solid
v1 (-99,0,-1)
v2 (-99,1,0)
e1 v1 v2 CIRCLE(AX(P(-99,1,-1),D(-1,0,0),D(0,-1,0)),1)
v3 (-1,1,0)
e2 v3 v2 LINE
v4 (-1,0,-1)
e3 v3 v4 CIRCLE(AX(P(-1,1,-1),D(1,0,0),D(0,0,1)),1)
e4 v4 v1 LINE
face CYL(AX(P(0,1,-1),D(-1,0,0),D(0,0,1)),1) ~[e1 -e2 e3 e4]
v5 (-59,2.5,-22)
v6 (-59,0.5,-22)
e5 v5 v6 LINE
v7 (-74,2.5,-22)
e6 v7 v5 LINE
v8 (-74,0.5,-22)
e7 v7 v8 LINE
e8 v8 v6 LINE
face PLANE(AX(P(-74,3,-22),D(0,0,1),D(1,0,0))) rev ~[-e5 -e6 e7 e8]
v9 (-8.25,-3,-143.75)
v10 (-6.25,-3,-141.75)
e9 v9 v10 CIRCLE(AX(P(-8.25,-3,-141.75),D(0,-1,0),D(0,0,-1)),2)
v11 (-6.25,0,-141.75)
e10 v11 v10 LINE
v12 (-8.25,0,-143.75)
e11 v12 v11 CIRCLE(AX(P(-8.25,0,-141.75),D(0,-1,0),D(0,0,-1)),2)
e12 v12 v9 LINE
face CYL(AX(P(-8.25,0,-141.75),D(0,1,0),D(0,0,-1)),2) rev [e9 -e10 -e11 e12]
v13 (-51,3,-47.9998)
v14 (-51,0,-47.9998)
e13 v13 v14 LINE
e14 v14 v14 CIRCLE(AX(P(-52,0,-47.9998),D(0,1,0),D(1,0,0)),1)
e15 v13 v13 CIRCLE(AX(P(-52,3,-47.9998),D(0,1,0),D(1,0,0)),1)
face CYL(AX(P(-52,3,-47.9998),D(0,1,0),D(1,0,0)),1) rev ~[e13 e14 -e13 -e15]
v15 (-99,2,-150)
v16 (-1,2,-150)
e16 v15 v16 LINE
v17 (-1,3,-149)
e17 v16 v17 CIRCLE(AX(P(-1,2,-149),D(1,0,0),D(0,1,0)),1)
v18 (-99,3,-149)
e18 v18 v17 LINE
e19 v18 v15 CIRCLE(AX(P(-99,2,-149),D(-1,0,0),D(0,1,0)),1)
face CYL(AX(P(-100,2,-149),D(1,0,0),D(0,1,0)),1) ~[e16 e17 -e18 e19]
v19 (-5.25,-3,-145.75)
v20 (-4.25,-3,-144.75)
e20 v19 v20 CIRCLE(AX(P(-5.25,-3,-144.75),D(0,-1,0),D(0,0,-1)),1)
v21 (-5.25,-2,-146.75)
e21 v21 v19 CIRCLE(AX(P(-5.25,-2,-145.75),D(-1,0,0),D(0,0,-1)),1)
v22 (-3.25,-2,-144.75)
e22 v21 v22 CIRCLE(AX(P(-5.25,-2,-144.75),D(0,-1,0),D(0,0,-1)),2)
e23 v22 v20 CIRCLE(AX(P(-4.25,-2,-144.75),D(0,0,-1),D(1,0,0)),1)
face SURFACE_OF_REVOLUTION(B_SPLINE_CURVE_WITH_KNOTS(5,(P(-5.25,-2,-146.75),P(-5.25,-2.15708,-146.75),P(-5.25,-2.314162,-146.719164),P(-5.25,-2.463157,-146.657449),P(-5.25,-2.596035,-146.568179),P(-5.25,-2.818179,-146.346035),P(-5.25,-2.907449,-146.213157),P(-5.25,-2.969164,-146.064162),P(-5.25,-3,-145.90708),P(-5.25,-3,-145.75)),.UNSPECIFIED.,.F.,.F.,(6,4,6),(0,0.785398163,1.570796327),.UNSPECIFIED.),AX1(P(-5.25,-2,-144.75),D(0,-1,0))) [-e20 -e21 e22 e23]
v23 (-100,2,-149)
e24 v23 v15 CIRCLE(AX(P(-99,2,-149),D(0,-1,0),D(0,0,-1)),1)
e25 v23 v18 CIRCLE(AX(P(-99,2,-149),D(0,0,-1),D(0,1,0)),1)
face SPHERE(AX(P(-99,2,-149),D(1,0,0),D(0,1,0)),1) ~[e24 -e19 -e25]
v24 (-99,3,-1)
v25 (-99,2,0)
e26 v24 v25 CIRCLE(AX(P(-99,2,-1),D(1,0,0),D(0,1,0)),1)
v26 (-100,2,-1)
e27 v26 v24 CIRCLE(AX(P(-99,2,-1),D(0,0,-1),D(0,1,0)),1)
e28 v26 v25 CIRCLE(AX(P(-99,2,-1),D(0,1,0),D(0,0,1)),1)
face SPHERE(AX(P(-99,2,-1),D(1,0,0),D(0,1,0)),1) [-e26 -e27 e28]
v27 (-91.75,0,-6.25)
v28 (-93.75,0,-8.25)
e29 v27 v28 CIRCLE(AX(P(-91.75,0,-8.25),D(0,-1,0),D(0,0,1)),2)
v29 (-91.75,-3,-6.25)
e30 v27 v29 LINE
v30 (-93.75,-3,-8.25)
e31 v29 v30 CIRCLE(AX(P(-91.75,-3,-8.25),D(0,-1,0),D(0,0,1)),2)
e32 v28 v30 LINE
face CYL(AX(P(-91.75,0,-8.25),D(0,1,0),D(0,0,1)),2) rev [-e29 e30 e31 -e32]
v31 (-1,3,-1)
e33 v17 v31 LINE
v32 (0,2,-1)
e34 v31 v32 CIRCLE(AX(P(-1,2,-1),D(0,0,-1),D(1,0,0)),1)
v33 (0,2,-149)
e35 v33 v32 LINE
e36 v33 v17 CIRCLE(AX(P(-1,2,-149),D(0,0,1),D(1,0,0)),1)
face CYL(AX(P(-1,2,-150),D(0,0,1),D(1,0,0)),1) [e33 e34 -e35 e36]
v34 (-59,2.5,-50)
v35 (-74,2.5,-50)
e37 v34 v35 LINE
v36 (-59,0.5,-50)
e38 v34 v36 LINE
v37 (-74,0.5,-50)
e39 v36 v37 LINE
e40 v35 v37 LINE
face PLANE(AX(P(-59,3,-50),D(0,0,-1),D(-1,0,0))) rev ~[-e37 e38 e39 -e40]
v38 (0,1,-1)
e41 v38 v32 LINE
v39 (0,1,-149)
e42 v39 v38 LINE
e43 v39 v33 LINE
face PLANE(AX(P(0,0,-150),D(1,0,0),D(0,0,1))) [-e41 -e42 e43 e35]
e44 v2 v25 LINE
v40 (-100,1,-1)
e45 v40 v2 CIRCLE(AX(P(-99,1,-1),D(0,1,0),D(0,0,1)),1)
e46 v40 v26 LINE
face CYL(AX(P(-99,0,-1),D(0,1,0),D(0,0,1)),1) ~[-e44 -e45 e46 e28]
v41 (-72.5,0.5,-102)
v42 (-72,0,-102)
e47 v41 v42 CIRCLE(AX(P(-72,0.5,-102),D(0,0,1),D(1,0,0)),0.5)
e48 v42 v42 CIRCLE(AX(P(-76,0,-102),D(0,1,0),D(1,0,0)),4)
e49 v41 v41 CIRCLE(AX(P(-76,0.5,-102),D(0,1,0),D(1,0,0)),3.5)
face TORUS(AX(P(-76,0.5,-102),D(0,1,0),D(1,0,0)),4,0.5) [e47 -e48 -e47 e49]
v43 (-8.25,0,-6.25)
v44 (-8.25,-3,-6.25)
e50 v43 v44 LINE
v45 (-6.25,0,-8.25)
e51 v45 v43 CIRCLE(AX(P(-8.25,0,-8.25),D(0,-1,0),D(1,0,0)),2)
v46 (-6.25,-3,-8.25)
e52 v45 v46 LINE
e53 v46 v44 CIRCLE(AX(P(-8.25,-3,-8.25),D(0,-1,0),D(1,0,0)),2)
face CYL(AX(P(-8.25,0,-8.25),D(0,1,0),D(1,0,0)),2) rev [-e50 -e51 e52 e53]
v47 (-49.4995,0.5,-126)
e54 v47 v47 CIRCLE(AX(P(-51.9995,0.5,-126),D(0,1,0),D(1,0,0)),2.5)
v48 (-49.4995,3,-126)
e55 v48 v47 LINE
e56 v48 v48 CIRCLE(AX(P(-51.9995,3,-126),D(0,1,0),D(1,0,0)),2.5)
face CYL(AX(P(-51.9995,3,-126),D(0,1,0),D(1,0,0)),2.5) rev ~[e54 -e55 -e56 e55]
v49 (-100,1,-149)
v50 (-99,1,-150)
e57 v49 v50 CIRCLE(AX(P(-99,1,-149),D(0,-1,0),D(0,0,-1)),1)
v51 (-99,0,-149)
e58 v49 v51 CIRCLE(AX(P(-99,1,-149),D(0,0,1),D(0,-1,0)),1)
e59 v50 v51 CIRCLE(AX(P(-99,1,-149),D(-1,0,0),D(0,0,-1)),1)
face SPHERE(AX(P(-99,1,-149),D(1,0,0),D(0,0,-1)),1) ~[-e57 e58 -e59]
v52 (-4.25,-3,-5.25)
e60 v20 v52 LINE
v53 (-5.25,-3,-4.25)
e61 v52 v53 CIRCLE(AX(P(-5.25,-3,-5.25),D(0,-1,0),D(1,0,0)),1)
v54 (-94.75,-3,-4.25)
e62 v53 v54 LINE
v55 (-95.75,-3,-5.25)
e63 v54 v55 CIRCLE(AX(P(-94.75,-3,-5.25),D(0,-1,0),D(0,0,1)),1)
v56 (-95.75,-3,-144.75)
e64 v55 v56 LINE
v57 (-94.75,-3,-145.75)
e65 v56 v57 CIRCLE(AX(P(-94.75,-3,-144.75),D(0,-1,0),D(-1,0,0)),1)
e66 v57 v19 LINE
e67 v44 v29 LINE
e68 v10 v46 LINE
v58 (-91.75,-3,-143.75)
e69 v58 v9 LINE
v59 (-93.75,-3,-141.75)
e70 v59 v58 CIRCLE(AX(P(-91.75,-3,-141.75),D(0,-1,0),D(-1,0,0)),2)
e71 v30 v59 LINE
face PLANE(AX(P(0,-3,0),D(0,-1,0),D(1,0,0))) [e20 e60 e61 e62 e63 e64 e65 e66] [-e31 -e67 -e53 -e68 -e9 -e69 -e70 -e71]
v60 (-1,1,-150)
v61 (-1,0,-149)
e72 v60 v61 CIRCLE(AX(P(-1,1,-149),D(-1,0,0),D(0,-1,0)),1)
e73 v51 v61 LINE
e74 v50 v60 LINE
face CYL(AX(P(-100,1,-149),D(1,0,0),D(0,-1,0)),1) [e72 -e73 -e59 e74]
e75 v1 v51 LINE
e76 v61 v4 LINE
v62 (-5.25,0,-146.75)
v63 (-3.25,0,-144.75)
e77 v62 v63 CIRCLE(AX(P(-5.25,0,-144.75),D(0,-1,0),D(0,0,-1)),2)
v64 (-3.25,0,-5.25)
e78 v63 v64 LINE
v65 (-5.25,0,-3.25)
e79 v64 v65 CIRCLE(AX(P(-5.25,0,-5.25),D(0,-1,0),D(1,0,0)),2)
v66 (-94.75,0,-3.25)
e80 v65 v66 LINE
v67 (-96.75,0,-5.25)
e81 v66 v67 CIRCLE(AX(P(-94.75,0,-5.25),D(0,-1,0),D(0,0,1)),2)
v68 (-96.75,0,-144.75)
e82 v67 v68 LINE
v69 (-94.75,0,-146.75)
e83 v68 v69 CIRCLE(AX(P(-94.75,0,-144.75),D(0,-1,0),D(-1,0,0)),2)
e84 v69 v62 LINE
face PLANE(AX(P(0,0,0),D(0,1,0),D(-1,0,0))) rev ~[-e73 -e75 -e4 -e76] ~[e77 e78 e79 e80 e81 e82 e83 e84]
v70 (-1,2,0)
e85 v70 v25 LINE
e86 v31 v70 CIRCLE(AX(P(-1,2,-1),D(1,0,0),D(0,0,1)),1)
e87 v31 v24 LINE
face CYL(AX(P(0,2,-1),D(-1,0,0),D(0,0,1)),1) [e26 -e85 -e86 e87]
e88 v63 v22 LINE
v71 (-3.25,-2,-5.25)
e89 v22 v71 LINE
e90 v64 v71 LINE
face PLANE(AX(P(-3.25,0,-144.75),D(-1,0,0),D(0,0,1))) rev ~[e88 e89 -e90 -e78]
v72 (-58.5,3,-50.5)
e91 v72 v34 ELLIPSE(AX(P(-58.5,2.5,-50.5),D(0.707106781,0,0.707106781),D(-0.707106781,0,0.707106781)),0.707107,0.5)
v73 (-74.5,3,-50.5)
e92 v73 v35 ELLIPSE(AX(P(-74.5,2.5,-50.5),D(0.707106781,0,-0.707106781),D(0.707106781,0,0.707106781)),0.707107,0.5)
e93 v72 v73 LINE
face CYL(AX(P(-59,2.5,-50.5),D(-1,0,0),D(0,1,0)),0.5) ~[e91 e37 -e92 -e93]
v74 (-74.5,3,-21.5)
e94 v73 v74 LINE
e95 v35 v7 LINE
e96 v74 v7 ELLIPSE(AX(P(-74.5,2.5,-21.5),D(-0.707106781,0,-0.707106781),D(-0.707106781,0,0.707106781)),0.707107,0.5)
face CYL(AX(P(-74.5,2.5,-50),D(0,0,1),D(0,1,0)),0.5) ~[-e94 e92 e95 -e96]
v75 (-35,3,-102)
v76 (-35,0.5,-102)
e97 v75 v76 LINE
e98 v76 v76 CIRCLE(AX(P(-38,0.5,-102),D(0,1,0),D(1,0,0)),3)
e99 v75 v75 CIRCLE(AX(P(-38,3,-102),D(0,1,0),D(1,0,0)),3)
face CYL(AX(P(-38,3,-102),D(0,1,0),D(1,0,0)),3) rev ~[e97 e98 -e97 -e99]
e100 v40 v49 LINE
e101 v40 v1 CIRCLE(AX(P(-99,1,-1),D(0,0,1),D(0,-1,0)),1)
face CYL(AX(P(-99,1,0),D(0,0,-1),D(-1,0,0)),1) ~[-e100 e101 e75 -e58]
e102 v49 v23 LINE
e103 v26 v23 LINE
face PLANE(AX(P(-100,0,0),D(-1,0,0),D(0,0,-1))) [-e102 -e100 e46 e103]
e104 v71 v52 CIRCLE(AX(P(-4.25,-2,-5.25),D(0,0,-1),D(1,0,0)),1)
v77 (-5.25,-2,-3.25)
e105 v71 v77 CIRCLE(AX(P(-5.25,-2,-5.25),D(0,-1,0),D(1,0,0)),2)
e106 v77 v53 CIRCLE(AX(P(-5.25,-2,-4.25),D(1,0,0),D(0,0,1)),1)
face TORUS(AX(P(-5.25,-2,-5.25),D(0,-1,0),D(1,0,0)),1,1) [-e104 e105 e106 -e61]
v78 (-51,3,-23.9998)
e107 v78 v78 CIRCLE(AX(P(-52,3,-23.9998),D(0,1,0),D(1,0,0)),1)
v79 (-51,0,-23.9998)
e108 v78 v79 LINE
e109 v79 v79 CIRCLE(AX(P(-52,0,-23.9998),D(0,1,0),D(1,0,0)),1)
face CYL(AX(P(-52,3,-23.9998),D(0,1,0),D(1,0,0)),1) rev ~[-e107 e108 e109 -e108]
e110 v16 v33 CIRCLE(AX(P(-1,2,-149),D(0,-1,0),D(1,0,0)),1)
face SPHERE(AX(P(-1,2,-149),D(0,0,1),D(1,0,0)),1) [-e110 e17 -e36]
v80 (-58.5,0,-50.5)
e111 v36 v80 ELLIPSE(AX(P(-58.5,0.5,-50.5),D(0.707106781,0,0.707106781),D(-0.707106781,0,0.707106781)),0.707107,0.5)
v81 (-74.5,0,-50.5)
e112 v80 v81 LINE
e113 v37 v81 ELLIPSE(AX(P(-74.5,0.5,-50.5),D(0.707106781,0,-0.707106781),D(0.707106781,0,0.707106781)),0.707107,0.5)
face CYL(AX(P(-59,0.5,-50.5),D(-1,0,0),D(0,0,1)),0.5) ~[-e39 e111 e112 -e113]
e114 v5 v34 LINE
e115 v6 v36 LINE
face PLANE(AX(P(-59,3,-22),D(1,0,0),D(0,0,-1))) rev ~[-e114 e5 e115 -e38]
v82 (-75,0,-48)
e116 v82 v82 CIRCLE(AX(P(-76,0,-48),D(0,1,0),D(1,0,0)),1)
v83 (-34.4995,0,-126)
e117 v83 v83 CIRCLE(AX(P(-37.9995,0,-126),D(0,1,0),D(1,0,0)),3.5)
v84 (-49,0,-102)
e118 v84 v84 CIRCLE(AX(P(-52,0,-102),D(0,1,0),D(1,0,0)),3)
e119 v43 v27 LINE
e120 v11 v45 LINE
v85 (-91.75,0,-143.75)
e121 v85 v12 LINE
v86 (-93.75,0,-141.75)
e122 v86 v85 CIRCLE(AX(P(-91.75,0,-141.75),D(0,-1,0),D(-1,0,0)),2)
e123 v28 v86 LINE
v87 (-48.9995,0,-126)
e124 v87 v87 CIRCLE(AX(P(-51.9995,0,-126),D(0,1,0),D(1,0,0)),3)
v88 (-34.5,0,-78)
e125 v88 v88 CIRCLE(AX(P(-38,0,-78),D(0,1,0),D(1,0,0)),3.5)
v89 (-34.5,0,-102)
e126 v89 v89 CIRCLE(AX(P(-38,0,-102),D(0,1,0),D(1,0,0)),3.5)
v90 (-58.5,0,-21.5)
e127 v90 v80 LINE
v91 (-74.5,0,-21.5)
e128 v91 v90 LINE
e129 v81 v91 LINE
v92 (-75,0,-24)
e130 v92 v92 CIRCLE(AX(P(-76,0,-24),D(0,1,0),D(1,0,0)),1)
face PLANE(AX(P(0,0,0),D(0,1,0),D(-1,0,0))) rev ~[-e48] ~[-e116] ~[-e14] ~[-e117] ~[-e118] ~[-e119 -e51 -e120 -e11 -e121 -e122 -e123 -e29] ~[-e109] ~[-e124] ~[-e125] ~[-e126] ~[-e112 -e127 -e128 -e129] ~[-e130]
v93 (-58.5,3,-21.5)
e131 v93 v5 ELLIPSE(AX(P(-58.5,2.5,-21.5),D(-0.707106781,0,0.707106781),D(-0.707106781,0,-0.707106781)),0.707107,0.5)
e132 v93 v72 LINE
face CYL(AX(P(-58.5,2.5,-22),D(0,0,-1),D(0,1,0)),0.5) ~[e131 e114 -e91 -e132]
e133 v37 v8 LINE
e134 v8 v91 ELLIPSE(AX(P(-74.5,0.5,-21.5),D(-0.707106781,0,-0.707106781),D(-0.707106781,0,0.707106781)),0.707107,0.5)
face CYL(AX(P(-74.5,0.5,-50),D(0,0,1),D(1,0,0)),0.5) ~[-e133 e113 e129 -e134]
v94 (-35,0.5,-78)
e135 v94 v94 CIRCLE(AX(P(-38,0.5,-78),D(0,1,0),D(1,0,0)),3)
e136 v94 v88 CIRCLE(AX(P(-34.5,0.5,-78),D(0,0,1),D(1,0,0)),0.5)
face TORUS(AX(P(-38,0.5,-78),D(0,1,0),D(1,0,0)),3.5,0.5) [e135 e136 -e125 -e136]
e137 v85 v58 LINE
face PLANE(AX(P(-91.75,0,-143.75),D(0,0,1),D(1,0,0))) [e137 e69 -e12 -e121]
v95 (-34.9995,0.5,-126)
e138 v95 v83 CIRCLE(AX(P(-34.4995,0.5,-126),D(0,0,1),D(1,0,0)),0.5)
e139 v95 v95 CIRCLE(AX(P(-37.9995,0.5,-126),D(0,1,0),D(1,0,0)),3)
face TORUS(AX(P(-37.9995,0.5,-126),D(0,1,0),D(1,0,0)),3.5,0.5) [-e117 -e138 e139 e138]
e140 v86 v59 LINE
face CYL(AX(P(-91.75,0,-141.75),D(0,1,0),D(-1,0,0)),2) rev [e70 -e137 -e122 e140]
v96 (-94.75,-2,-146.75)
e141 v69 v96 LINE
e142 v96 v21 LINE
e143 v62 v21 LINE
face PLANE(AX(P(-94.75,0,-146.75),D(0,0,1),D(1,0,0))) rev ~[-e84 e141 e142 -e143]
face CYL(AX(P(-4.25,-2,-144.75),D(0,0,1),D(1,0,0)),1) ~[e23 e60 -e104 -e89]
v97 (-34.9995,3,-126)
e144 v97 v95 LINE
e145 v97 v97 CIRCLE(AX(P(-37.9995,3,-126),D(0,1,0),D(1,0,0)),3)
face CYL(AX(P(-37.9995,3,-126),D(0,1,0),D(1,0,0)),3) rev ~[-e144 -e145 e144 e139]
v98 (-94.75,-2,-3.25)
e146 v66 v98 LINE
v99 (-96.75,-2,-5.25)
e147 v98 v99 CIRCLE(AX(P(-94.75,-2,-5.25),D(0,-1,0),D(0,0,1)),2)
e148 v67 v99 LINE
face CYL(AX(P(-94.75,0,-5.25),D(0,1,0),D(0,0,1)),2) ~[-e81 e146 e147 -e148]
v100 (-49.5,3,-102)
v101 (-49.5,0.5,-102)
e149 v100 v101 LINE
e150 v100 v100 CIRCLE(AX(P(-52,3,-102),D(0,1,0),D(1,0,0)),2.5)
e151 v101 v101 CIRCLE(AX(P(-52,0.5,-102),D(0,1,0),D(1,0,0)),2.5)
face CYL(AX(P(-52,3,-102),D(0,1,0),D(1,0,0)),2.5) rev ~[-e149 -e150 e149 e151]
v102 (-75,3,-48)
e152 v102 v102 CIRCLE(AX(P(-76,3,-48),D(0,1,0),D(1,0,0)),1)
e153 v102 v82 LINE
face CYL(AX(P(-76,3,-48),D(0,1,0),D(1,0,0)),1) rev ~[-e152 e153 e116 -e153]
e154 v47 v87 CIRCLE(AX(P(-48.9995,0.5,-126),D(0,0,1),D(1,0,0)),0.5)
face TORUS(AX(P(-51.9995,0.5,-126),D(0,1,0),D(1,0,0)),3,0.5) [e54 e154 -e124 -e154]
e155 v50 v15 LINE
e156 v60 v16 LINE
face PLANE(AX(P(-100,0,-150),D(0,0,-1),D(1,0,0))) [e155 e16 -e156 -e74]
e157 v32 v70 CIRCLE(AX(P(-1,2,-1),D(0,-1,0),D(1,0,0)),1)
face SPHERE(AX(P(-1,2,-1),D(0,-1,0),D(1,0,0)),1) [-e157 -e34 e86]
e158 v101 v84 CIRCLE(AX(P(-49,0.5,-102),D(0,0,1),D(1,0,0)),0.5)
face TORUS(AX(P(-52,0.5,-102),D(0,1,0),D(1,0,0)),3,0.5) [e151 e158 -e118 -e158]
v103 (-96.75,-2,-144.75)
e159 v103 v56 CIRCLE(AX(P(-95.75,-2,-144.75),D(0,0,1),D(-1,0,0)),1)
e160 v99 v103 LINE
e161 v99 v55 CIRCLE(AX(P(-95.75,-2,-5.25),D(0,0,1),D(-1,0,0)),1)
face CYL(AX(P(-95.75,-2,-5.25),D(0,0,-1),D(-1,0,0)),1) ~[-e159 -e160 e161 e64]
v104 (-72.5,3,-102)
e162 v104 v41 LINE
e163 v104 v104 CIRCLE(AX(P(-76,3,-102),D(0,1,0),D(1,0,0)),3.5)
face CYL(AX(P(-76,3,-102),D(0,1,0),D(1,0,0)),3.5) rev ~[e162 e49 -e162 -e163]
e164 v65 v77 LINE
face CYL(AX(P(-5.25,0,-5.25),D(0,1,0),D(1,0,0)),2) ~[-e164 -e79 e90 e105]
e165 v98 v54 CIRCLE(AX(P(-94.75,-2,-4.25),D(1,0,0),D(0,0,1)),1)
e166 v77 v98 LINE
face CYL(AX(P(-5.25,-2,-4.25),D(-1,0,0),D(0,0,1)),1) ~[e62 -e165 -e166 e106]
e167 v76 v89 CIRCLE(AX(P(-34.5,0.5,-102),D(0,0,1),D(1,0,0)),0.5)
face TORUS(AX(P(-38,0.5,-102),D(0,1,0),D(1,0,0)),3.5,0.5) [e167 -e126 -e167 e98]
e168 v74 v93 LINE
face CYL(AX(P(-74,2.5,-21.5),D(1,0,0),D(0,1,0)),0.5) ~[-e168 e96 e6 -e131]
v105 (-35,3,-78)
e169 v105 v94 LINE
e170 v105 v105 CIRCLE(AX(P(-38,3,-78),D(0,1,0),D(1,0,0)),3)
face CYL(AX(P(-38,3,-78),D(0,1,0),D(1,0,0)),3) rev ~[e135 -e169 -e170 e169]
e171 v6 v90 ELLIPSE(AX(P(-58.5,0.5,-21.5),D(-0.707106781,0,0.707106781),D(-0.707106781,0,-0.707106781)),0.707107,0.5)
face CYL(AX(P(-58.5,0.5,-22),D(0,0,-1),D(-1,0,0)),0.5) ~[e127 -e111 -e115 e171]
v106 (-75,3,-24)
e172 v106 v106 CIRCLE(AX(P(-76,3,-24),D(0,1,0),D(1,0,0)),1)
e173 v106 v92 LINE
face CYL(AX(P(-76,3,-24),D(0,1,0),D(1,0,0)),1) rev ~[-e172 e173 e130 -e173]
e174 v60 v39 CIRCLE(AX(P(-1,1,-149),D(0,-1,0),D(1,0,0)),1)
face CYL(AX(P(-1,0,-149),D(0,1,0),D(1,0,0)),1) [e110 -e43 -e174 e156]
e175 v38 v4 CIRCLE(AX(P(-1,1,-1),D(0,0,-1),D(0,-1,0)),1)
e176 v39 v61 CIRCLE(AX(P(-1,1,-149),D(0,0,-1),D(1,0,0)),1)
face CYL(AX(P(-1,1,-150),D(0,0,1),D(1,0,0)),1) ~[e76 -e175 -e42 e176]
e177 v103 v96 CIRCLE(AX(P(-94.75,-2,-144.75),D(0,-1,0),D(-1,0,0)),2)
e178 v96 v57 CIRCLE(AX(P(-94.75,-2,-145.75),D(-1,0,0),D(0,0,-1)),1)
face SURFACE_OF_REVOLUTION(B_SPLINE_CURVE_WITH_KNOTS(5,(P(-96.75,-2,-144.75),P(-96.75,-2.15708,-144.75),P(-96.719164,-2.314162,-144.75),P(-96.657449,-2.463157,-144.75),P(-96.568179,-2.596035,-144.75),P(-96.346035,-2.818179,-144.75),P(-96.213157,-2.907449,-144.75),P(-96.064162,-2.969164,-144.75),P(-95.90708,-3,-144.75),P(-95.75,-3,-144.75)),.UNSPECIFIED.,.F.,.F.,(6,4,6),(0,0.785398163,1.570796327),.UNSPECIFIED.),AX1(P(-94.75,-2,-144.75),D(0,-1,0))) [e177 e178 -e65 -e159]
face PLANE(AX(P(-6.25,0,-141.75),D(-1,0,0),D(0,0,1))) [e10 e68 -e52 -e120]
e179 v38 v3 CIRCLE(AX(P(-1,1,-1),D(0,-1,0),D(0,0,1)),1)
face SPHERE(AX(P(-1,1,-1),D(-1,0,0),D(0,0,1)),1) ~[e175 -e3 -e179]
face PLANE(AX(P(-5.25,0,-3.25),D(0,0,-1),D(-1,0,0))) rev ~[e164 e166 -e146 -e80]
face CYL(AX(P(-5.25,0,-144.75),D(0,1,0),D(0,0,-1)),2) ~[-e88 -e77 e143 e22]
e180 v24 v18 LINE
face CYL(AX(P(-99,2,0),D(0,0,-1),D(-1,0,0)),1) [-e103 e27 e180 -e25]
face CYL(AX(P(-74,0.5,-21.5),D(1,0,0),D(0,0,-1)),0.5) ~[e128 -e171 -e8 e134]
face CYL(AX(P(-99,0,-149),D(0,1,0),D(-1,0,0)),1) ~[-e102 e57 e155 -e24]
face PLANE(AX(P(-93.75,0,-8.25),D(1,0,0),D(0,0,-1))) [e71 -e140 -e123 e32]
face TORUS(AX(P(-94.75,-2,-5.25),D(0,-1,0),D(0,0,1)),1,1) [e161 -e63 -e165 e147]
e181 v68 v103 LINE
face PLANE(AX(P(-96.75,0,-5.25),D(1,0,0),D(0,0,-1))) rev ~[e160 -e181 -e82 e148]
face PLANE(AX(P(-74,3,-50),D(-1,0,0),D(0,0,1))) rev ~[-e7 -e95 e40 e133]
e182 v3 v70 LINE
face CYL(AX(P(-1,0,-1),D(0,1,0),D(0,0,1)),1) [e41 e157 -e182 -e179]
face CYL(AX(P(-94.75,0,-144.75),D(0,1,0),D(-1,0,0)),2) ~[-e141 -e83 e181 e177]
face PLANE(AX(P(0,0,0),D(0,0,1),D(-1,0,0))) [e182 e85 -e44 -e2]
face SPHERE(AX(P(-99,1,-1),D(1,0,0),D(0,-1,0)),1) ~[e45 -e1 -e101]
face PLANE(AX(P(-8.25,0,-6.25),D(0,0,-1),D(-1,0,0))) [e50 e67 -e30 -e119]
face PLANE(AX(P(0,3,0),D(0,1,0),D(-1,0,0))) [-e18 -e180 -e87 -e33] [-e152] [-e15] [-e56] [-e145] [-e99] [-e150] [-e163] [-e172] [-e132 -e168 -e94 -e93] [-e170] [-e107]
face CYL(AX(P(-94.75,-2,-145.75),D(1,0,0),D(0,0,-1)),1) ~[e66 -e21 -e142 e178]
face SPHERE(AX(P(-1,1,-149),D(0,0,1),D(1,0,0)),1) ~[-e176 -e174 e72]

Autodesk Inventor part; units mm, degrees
ref_plane "YZ Plane" through (0, 0, 0) normal (1, 0, 0) x (0, 1, 0)
ref_plane "XZ Plane" through (0, 0, 0) normal (0, 1, 0) x (-1, 0, 0)
ref_plane "XY Plane" through (0, 0, 0) normal (0, 0, 1) x (1, 0, 0)
sketch "Sketch1" plane through (0, 0, 0) normal (0, 1, 0) x (-1, 0, 0)
  line L0 (0, 0) -> (100, 0)
  line L1 (100, 0) -> (100, -150)
  line L2 (100, -150) -> (0, -150)
  line L3 (0, -150) -> (0, 0)
  dimension "d0" = 100
  dimension "d1" = 150
extrude "Extrusion1" add sketch "Sketch1" along normal blind 3
sketch "Sketch2" plane through (0, 0, 0) normal (0, -1, 0) x (1, 0, 0)
  line L0 (0, -150) -> (-100, -150) projected
  line L1 (0, 0) -> (0, -150) projected
  line L2 (-100, 0) -> (0, 0) projected
  line L3 (-100, -150) -> (-100, 0) projected
  line L4 (-5.25, -3.25) -> (-94.75, -3.25)
  line L5 (-96.75, -5.25) -> (-96.75, -144.75)
  line L6 (-94.75, -146.75) -> (-5.25, -146.75)
  line L7 (-3.25, -144.75) -> (-3.25, -5.25)
  arc A0 (-3.25, -5.25) -> (-5.25, -3.25) centre (-5.25, -5.25) ccw
  arc A1 (-94.75, -3.25) -> (-96.75, -5.25) centre (-94.75, -5.25) ccw
  arc A2 (-96.75, -144.75) -> (-94.75, -146.75) centre (-94.75, -144.75) ccw
  arc A3 (-5.25, -146.75) -> (-3.25, -144.75) centre (-5.25, -144.75) ccw
  line L8 (-8.25, -6.25) -> (-91.75, -6.25)
  line L9 (-93.75, -8.25) -> (-93.75, -141.75)
  line L10 (-91.75, -143.75) -> (-8.25, -143.75)
  line L11 (-6.25, -141.75) -> (-6.25, -8.25)
  arc A4 (-6.25, -8.25) -> (-8.25, -6.25) centre (-8.25, -8.25) ccw
  arc A5 (-8.25, -143.75) -> (-6.25, -141.75) centre (-8.25, -141.75) ccw
  arc A6 (-93.75, -141.75) -> (-91.75, -143.75) centre (-91.75, -141.75) ccw
  arc A7 (-91.75, -6.25) -> (-93.75, -8.25) centre (-91.75, -8.25) ccw
  point P0 (-3.25, -3.25)
  point P1 (-96.75, -146.75)
  point P2 (-96.75, -3.25)
  point P3 (-3.25, -146.75)
  point P4 (-50, -143.75)
  dimension "d4" = 3.25
  dimension "d5" = 3.25
  dimension "d6" = 3.25
  dimension "d7" = 3.25
  dimension "d10" = 2
  dimension "d12" = 3
  dimension "d13" = 3
  dimension "d14" = 3
  dimension "d15" = 3
  dimension "d16" = 2
extrude "Extrusion2" add sketch "Sketch2" along normal blind 3 contours A0 L7 A3 L6 A2 L5 A1 L4
fillet "Fillet1" radius 1 20 edges at (-50, 0, 0) (0, 1.5, 0) (0, 0, -75) (0, 3, -75) (-50, 3, 0) (-3.8358, -3, -3.8358) (-50, -3, -3.25) (-96.1642, -3, -3.8358) (-96.75, -3, -75) (-96.1642, -3, -146.1642) (-50, -3, -146.75) (-3.8358, -3, -146.1642) (-3.25, -3, -75) (0, 1.5, -150) (-50, 3, -150) (-50, 0, -150) (-100, 3, -75) (-100, 1.5, -150) (-100, 0, -75) (-100, 1.5, 0)
sketch "Sketch4" plane through (0, 3, 0) normal (0, 1, 0) x (1, 0, 0)
  circle A0 centre (-52, 102) radius 2.5
  circle A1 centre (-51.9995, 126) radius 2.5
  circle A2 centre (-38, 78) radius 3
  circle A3 centre (-38, 102) radius 3
  circle A4 centre (-37.9995, 126) radius 3
  circle A5 centre (-76, 102) radius 3.5
  circle A6 centre (-76, 24) radius 1
  circle A7 centre (-76, 48) radius 1
  circle A8 centre (-52, 23.9998) radius 1
  circle A9 centre (-52, 47.9998) radius 1
  line L0 (-100, 149) -> (-100, 1) projected
  line L1 (0, 1) -> (0, 149) projected
  line L2 (-1, 150) -> (-99, 150) projected
  line L3 (-99, 0) -> (-1, 0) projected
  line L4 (-74, 22) -> (-59, 22)
  line L5 (-59, 22) -> (-59, 50)
  line L6 (-59, 50) -> (-74, 50)
  line L7 (-74, 50) -> (-74, 22)
  point P0 (0, 0)
  dimension "d19" = 5
  dimension "d20" = 5
  dimension "d21" = 6
  dimension "d22" = 6
  dimension "d23" = 6
  dimension "d24" = 7
  dimension "d25" = 2
  dimension "d26" = 2
  dimension "d27" = 2
  dimension "d28" = 2
  dimension "d29" = 24
  dimension "d30" = 24
  dimension "d31" = 24
  dimension "d32" = 24
  dimension "d33" = 33.941
  dimension "d34" = 0
  dimension "d35" = 24
  dimension "d36" = 24
  dimension "d37" = 14
  dimension "d38" = 14
  dimension "d39" = 24
  dimension "d40" = 14
  dimension "d41" = 24
  dimension "d42" = 24
  dimension "d43" = 38
  dimension "d46" = 48
  dimension "d47" = 24
  dimension "d48" = 24
  dimension "d49" = 15
  dimension "d50" = 28
  dimension "d51" = 2
  dimension "d52" = 2
  dimension "d53" = 2
extrude "Extrusion4" cut sketch "Sketch4" against normal blind 10
fillet "Fillet2" radius 0.5 14 edges at (-74, 3, -36) (-74, 0, -36) (-66.5, 0, -50) (-66.5, 3, -50) (-59, 0, -36) (-59, 3, -36) (-66.5, 0, -22) (-66.5, 3, -22) (-41, 0, -78) (-79.5, 0, -102) (-54.5, 0, -102) (-41, 0, -102) (-54.4995, 0, -126) (-40.9995, 0, -126)
properties part number "ecu-box-lid"
